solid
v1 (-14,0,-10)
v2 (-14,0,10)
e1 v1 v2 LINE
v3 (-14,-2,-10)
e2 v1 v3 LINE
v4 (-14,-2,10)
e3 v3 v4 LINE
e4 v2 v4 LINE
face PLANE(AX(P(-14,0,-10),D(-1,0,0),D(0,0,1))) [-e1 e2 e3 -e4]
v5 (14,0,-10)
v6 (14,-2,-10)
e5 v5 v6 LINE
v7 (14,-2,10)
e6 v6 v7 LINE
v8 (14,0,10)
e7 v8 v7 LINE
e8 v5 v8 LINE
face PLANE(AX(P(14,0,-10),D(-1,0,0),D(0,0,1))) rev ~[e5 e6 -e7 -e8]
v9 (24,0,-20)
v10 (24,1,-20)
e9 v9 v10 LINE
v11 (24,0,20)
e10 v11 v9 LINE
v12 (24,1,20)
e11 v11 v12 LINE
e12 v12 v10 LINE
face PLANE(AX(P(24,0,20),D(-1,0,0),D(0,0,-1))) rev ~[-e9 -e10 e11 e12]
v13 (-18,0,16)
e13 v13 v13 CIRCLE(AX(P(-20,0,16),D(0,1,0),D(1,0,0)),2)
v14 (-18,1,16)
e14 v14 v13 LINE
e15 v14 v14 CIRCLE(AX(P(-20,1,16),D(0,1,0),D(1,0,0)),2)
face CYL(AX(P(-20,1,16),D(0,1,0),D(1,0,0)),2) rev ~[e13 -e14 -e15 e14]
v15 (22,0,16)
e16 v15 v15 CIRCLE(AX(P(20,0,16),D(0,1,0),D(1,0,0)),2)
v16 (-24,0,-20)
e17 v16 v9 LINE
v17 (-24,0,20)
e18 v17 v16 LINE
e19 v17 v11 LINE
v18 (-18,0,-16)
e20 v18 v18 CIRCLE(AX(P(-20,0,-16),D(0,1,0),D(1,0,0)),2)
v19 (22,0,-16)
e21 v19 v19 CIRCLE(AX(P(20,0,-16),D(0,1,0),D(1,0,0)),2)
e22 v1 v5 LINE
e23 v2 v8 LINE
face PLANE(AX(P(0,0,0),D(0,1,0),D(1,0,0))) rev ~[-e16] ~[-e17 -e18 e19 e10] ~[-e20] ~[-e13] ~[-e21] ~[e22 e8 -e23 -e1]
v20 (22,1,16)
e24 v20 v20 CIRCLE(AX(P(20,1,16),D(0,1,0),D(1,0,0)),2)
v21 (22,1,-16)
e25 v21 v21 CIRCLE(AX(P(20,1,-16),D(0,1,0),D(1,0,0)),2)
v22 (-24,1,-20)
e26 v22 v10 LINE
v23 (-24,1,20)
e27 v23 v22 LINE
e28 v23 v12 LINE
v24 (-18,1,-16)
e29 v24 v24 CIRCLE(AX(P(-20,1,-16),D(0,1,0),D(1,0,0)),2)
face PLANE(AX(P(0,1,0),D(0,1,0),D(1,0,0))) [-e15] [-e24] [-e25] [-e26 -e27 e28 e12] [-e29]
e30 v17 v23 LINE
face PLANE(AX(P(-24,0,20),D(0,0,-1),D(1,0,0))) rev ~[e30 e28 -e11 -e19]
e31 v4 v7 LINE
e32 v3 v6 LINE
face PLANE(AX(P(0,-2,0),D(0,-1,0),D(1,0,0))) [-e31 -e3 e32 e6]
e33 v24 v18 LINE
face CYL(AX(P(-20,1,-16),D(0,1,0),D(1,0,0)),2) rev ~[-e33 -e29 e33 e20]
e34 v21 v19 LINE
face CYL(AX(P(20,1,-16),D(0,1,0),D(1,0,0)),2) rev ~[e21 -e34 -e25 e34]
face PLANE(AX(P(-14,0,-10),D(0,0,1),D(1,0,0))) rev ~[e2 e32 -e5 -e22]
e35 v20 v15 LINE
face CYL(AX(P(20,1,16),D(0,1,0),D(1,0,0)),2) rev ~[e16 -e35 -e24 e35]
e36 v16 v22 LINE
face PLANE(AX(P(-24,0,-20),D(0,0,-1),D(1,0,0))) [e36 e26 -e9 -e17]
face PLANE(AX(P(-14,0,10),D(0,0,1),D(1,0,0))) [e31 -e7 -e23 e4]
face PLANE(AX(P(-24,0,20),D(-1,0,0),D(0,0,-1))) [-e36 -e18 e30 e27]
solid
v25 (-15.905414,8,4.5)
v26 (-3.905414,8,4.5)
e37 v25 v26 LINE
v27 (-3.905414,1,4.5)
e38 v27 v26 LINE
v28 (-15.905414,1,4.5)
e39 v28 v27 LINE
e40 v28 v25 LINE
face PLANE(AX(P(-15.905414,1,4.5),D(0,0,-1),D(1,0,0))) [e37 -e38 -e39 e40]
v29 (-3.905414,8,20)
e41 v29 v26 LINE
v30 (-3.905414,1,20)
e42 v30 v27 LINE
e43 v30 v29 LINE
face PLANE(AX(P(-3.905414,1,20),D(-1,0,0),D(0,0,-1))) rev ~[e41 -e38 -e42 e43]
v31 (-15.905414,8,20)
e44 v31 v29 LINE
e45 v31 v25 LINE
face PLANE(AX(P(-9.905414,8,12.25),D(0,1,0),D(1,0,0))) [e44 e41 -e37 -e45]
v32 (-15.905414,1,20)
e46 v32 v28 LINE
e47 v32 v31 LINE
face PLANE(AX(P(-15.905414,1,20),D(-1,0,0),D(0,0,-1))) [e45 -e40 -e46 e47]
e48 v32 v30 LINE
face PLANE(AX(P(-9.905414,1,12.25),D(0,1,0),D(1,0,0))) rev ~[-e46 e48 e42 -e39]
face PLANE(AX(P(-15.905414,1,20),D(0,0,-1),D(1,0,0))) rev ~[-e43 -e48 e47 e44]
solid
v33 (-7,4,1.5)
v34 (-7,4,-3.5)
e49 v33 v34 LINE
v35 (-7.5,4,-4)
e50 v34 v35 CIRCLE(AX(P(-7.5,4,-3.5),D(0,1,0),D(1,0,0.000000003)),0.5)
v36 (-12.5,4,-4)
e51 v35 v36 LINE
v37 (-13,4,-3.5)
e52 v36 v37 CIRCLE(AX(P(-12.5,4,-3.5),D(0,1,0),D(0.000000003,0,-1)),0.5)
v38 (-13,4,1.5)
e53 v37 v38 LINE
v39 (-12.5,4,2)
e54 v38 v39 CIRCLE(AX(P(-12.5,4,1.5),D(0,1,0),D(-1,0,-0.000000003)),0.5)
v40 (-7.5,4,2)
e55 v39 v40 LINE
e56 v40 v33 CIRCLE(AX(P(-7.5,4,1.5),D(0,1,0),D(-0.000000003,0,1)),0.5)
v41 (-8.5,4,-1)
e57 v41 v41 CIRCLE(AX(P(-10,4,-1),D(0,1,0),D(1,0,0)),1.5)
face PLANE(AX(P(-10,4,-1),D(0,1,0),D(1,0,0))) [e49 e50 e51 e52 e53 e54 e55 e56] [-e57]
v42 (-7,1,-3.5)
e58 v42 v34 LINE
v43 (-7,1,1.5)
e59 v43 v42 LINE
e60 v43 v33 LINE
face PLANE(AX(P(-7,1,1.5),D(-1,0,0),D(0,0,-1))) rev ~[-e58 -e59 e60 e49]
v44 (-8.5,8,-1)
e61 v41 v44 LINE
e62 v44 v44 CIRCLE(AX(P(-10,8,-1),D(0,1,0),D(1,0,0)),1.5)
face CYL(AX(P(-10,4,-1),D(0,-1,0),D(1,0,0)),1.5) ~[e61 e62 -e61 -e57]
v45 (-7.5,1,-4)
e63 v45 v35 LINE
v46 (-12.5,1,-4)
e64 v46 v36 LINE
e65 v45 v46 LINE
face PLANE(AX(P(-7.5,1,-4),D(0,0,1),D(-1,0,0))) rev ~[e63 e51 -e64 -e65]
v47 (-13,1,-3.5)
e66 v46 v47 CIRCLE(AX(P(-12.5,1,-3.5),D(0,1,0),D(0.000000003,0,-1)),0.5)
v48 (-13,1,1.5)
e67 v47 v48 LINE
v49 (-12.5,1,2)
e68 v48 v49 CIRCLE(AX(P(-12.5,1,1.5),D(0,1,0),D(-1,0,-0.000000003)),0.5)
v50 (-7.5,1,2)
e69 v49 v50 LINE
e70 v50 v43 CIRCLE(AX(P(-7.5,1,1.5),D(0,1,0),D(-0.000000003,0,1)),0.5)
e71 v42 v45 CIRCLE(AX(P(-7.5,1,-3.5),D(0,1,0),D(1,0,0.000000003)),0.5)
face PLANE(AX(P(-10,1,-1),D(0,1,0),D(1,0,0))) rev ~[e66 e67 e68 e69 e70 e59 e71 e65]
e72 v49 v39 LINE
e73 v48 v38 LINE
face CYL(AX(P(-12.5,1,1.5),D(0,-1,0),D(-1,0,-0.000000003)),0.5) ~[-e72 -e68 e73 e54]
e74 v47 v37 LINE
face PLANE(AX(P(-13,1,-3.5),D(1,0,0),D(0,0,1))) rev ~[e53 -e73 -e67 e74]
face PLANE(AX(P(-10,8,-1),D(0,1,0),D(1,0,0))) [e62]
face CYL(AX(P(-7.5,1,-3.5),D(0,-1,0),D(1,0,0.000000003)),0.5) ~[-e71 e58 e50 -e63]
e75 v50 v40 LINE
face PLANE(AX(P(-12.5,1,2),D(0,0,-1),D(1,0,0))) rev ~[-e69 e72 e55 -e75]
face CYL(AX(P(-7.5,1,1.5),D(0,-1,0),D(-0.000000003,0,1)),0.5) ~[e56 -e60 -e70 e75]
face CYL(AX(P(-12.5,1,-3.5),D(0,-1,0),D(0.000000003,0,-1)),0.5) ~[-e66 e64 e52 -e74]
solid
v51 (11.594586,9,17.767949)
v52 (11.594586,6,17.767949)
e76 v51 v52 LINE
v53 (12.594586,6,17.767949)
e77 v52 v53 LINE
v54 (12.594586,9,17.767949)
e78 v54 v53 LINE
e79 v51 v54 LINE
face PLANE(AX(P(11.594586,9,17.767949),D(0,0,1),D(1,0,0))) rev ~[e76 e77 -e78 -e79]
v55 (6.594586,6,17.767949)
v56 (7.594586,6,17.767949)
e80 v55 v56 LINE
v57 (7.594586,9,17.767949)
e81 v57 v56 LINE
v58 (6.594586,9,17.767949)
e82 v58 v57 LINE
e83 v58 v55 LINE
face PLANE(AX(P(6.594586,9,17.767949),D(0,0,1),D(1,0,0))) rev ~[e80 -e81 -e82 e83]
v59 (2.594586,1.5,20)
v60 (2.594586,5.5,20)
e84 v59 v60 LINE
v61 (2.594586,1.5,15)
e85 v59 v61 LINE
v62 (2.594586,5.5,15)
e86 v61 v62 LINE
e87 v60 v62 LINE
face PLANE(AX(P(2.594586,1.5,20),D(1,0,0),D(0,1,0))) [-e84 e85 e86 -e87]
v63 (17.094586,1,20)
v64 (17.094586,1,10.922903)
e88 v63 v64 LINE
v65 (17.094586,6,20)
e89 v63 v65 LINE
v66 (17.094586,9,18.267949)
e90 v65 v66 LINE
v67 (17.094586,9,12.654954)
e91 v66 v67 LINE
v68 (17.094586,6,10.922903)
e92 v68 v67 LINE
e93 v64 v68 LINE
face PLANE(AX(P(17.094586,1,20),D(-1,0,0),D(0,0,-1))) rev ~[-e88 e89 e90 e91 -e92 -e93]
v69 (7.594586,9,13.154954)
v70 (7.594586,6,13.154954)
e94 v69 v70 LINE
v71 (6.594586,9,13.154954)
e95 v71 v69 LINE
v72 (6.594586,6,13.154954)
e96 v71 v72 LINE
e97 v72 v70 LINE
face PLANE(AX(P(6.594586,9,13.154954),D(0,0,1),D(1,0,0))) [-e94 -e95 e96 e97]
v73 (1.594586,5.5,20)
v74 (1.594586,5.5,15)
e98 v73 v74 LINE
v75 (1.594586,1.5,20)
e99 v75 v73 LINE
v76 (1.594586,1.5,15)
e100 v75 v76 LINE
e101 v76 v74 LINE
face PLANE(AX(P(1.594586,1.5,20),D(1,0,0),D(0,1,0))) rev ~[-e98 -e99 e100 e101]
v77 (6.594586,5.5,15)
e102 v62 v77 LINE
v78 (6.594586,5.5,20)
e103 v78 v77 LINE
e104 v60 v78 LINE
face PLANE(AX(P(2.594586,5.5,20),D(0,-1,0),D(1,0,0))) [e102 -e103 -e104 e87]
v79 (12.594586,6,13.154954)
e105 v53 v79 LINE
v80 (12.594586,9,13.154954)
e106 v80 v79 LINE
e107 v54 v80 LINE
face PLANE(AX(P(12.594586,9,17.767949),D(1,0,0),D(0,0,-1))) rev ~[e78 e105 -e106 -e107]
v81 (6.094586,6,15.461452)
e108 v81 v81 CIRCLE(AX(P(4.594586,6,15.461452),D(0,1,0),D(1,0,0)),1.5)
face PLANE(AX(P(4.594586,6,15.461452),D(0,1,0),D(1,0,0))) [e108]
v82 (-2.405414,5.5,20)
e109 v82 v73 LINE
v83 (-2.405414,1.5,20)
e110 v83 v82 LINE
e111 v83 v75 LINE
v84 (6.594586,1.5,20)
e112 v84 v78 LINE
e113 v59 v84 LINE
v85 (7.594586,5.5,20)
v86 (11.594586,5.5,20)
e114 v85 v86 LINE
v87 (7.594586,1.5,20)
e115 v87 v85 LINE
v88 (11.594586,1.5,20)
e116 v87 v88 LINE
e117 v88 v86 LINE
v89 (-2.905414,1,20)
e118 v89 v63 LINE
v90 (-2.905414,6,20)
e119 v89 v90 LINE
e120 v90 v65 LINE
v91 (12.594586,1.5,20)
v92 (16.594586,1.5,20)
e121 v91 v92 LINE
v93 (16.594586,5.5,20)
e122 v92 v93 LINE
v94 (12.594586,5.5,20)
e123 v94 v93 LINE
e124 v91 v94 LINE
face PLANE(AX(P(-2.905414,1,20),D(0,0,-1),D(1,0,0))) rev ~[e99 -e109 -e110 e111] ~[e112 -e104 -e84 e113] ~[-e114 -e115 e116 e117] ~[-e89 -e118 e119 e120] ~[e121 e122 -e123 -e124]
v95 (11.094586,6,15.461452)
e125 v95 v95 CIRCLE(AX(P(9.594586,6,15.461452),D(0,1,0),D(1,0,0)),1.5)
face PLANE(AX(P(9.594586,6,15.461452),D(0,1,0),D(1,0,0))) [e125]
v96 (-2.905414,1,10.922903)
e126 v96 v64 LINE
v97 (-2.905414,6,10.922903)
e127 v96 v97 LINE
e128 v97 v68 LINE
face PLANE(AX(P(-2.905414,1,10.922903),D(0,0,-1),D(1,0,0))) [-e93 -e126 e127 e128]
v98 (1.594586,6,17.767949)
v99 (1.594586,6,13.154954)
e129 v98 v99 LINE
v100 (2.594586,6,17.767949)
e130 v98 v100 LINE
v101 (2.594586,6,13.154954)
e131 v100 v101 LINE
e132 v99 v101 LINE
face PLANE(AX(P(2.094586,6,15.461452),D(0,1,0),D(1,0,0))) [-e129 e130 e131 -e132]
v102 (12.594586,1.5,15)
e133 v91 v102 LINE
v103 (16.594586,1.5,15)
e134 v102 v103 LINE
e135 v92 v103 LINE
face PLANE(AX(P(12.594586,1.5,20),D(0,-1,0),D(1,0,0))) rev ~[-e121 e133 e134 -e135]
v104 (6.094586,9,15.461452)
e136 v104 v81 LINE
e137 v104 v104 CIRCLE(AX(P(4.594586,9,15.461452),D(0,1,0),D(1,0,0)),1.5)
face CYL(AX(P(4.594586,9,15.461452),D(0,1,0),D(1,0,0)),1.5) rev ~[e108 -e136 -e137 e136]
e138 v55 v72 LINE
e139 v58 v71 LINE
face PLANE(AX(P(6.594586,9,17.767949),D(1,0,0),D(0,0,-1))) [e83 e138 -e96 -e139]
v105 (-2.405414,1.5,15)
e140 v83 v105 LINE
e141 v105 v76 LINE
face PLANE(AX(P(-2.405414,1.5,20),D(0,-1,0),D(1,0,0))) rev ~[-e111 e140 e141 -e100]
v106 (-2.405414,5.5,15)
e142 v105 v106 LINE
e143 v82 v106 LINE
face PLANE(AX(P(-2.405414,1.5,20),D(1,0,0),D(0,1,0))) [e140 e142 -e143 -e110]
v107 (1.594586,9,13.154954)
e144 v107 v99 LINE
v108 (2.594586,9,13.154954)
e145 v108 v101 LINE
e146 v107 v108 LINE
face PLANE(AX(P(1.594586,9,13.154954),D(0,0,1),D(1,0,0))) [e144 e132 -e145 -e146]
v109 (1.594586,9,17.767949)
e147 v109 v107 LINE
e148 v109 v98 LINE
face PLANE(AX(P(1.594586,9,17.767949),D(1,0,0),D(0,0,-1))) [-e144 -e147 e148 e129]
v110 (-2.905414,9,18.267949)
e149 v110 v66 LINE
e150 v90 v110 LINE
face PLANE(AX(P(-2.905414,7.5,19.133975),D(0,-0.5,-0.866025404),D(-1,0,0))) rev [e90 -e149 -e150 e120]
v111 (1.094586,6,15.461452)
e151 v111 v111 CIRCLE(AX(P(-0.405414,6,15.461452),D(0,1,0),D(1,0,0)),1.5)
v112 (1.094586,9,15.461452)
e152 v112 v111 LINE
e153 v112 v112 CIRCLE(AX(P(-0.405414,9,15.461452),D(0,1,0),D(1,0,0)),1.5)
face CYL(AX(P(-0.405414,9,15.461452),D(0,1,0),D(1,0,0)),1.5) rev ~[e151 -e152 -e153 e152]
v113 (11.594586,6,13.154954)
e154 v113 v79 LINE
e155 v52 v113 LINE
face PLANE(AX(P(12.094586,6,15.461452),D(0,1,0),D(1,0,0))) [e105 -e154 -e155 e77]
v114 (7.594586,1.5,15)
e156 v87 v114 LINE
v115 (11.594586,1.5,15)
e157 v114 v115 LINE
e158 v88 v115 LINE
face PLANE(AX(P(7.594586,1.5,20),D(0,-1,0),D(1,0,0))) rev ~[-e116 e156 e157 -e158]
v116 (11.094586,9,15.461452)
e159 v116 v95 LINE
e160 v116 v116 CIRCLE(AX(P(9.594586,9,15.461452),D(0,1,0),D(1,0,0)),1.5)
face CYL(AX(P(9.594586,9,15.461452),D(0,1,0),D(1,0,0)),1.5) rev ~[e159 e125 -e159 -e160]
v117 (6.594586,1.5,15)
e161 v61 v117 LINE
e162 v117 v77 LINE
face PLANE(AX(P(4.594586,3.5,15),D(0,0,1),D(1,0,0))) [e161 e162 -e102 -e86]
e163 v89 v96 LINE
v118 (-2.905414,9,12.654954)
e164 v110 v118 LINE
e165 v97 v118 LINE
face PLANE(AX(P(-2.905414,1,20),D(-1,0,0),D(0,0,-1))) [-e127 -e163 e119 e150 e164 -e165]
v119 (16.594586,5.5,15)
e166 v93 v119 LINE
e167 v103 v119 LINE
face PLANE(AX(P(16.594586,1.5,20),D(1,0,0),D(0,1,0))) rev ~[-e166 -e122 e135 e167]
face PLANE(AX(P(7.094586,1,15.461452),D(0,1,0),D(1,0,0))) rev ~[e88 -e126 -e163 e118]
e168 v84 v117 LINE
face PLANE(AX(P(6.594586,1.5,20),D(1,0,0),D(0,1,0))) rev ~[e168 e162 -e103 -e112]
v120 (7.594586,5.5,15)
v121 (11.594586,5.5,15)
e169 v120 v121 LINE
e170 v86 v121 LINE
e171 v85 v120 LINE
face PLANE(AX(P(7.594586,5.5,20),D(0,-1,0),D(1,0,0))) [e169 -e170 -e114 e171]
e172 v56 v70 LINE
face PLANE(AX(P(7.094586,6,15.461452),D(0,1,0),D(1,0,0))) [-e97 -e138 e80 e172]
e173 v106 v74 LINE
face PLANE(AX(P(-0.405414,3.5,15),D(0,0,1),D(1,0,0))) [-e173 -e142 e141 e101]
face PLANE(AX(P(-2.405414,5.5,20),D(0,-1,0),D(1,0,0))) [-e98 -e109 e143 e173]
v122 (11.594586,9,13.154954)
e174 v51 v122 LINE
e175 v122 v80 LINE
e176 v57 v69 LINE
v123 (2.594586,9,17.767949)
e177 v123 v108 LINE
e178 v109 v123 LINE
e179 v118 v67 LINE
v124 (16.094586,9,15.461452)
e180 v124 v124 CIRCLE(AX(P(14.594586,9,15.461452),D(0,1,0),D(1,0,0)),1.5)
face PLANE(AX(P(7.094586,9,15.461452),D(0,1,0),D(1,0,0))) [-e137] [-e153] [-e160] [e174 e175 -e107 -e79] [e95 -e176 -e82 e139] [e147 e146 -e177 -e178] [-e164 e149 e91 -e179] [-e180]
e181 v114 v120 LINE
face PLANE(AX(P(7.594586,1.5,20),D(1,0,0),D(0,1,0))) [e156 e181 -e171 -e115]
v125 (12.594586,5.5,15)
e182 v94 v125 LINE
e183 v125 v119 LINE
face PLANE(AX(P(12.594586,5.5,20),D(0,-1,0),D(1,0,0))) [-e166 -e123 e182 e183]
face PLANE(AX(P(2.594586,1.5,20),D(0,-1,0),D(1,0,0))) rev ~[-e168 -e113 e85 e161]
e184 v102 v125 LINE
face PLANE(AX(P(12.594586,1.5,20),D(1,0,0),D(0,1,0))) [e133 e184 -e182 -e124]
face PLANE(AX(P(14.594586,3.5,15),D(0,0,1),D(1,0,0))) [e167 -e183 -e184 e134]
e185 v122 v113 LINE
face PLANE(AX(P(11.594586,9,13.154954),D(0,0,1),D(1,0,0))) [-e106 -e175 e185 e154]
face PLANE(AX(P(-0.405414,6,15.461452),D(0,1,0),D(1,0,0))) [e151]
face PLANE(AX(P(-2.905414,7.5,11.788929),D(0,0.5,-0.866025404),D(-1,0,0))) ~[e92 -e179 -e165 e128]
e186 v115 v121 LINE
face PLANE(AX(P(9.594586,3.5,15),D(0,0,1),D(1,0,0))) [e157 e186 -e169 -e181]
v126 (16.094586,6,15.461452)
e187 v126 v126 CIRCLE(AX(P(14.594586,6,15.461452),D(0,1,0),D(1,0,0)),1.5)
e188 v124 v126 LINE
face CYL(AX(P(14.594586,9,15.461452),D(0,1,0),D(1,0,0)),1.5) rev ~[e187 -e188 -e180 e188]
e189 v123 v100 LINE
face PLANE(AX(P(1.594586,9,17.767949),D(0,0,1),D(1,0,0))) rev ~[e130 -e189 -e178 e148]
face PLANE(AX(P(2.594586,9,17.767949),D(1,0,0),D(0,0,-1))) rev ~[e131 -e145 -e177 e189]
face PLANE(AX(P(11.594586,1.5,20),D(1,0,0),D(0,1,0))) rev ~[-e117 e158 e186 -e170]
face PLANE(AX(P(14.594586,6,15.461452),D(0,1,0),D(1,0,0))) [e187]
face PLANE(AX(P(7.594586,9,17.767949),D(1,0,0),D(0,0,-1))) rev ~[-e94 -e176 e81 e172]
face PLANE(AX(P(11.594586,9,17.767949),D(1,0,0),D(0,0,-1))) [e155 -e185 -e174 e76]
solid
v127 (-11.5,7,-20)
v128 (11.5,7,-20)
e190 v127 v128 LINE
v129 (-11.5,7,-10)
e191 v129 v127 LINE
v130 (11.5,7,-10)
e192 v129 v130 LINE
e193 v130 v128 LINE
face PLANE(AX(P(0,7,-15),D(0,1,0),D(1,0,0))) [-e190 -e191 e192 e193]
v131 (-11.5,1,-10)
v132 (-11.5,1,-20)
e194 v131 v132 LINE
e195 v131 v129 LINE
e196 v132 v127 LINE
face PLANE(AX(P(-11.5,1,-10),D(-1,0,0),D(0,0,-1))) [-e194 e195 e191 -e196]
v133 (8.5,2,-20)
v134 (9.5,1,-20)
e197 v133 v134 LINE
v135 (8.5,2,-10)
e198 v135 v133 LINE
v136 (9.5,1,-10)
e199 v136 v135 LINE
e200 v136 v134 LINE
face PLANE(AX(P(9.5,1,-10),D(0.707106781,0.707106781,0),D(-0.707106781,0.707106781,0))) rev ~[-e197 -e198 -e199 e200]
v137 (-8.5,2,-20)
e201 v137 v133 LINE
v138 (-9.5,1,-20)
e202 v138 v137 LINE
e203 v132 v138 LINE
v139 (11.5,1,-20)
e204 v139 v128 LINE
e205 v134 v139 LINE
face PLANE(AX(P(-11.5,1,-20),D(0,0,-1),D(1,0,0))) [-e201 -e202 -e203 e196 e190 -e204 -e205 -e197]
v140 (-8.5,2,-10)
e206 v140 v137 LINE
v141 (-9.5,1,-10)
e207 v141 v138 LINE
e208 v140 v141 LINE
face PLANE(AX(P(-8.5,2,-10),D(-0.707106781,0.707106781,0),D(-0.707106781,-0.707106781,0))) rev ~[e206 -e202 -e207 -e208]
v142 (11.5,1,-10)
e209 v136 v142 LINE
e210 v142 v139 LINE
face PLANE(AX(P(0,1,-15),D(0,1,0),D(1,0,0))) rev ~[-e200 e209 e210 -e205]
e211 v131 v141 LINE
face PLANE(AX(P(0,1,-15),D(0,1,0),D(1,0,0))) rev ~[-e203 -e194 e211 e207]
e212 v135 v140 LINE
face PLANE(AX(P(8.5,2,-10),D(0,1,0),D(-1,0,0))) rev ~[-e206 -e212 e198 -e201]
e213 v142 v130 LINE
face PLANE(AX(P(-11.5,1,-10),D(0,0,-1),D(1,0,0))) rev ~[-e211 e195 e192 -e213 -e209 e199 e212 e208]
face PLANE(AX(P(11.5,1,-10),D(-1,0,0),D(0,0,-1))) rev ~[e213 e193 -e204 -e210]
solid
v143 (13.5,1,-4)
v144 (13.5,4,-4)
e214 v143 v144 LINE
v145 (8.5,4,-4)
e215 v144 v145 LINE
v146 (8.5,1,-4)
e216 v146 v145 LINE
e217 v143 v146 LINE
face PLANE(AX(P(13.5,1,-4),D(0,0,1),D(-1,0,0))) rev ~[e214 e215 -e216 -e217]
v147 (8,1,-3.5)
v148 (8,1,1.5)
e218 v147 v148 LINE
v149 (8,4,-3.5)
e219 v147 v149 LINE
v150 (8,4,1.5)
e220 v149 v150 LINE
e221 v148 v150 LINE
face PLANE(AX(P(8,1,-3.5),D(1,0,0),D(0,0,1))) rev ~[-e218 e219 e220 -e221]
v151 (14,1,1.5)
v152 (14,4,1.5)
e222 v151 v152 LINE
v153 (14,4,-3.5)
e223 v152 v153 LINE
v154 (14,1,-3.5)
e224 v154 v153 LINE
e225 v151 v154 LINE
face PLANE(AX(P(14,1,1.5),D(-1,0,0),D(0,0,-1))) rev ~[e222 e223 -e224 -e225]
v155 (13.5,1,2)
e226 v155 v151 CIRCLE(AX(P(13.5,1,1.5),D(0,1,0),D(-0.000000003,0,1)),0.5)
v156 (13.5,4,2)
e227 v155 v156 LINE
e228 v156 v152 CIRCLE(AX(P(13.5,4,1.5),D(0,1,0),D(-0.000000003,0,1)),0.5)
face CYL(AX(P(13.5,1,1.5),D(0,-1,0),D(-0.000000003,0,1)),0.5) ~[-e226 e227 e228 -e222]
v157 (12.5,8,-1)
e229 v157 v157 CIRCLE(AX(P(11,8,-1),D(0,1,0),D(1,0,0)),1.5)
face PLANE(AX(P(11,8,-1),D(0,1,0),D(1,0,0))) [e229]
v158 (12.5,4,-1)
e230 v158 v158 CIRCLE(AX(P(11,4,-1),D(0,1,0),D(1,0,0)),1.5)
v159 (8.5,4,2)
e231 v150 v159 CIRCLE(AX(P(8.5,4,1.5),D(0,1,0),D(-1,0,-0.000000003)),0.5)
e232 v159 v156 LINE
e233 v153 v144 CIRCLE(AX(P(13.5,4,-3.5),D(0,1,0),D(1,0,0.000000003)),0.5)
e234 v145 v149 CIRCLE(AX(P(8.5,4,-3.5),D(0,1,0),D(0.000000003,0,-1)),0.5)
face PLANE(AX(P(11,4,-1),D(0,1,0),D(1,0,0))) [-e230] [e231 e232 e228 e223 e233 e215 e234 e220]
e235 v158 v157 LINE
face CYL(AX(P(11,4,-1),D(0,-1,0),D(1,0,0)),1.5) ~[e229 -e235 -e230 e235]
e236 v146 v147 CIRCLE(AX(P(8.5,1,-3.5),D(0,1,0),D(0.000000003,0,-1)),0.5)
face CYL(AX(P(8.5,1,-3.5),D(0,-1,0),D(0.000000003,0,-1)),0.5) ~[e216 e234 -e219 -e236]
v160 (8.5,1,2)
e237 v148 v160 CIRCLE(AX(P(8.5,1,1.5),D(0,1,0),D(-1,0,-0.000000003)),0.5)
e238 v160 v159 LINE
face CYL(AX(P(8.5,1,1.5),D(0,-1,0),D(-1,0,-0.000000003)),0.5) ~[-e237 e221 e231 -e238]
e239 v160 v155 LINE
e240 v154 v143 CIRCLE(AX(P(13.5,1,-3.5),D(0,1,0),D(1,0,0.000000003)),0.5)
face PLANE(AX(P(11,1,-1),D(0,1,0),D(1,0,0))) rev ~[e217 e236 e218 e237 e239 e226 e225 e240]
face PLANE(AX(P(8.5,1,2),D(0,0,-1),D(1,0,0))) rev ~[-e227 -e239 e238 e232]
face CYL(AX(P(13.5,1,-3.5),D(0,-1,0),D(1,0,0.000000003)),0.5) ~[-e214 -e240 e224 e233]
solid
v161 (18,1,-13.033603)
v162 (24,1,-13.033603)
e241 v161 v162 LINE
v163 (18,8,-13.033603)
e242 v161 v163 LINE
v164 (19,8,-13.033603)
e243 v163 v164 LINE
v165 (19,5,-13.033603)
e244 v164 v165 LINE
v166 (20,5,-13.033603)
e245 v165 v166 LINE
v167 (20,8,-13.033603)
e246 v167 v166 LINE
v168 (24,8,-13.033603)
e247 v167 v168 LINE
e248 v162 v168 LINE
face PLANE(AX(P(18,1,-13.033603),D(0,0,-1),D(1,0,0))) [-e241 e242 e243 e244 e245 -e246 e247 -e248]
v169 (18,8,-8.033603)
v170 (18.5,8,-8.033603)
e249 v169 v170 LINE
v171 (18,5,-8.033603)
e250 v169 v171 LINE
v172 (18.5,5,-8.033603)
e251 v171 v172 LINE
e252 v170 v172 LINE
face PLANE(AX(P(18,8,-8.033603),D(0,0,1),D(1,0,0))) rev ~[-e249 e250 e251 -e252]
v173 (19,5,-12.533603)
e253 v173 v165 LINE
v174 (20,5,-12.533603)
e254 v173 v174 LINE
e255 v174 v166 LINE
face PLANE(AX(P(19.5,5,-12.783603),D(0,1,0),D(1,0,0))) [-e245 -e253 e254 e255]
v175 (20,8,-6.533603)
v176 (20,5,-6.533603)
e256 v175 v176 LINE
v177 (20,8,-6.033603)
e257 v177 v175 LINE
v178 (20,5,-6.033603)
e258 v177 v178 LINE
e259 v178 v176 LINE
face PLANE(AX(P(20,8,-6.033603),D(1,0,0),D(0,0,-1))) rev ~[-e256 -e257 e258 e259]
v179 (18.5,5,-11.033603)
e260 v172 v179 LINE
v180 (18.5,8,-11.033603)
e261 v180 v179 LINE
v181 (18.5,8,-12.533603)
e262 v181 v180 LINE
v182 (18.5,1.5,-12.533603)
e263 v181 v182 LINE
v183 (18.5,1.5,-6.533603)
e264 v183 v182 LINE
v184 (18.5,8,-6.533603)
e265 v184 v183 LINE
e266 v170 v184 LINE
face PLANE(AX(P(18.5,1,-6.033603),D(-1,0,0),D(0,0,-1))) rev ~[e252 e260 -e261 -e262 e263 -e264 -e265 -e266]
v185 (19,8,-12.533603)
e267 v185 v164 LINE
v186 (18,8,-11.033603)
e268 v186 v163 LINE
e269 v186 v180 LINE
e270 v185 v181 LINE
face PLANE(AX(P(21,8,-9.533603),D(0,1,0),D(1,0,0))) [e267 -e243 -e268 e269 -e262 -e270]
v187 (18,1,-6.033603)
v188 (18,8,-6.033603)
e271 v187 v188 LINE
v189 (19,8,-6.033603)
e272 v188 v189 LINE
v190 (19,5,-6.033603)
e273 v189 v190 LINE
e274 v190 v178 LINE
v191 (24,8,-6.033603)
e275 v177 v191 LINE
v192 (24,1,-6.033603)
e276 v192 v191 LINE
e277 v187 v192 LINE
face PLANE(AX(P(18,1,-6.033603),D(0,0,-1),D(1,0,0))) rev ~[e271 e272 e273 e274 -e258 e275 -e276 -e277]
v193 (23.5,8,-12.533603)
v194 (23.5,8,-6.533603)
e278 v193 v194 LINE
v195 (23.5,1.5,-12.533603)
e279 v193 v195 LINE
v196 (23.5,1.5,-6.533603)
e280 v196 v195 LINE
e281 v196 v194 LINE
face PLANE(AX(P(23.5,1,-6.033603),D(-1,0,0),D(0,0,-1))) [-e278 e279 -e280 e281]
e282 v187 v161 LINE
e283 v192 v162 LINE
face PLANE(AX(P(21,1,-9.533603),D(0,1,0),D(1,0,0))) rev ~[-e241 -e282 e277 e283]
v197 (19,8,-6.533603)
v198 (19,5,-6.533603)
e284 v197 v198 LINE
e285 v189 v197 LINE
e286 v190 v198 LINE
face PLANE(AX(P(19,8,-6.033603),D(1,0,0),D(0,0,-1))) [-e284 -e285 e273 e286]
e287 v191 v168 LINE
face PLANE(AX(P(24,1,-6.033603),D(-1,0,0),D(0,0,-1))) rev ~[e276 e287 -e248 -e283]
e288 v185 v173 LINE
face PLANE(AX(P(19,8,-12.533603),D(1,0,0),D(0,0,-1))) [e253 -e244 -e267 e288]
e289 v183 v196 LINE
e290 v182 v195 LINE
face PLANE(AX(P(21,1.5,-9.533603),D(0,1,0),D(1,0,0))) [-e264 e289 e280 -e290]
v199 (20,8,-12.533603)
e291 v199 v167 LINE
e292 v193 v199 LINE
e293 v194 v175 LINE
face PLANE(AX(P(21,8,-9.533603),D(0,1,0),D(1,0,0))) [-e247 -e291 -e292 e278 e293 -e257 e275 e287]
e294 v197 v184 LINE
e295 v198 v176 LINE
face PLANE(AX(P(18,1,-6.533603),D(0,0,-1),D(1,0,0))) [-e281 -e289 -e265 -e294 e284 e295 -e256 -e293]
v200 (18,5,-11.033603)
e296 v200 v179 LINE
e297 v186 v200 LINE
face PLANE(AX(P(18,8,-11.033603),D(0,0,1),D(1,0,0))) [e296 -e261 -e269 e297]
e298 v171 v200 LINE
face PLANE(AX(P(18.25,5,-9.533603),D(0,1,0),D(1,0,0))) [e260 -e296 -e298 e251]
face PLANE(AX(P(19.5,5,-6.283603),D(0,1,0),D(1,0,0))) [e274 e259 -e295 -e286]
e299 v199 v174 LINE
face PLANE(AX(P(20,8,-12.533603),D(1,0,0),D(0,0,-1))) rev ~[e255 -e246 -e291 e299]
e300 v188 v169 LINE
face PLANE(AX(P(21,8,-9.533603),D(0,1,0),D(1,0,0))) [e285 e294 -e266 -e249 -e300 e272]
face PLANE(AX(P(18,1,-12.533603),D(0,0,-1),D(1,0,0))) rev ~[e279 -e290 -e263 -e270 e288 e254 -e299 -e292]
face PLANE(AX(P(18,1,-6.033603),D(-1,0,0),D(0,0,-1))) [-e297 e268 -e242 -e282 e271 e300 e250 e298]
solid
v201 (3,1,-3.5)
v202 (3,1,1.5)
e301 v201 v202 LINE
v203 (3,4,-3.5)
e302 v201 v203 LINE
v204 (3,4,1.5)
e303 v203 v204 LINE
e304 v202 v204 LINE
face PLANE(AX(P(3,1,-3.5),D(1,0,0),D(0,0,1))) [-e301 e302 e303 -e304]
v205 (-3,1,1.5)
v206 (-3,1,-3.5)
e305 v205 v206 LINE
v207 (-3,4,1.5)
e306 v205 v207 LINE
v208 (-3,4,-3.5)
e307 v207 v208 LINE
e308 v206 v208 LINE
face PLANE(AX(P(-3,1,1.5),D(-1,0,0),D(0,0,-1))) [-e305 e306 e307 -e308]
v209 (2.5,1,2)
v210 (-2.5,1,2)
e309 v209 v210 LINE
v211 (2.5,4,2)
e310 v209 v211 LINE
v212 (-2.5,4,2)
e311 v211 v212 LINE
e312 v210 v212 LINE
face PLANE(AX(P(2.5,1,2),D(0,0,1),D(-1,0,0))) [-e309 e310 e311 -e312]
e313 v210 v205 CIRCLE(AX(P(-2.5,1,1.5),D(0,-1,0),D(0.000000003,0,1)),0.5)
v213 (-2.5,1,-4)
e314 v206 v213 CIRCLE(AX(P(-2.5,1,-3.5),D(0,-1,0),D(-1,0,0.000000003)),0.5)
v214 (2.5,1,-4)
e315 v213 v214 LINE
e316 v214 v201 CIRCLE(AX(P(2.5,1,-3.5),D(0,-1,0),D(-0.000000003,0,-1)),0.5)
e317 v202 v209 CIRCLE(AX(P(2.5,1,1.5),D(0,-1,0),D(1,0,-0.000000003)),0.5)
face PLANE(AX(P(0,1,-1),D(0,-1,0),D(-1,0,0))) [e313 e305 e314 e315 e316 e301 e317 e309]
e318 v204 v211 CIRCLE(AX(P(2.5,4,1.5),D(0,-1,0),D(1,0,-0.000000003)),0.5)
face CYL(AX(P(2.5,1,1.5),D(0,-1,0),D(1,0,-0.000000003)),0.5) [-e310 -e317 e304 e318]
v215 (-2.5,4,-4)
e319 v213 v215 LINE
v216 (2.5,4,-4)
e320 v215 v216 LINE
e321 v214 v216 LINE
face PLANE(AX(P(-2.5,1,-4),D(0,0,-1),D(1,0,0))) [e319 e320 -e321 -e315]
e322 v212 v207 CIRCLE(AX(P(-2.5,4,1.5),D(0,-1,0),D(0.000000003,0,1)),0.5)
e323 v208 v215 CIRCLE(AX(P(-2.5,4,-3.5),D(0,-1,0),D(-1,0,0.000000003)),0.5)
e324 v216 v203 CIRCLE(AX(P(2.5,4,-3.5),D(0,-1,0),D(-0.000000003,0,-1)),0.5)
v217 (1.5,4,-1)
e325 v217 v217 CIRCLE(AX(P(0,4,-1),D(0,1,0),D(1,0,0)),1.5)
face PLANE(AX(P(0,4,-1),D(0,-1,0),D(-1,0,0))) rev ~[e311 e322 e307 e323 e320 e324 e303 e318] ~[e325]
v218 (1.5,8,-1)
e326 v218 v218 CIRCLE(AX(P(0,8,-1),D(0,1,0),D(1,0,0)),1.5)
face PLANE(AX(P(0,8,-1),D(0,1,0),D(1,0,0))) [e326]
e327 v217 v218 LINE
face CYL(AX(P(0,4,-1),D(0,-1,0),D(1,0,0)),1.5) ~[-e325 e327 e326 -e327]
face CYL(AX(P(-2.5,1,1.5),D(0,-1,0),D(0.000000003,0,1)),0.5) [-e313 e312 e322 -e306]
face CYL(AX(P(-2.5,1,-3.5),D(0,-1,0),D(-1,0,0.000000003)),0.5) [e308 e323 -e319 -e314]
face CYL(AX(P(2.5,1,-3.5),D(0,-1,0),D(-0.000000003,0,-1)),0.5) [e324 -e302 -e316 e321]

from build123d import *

# Parameters (mm, degrees)
SKETCH1_W             = 48
SKETCH1_H             = 40
BOSS_EXTRUDE1_DEPTH   = 1
SKETCH2_W             = 28
SKETCH2_H             = 20
BOSS_EXTRUDE2_DEPTH   = 2
SKETCH3_R             = 2
CUT_EXTRUDE1_DEPTH    = 4
SKETCH4_W             = 23
SKETCH4_H             = 10
BOSS_EXTRUDE3_DEPTH   = 6
SKETCH5_W             = 6
SKETCH5_H             = 7
BOSS_EXTRUDE4_DEPTH   = 7
SHELL1_T              = -0.5
SKETCH6_W             = 1
SKETCH6_H             = 0.5
SKETCH6_W_2           = 0.5
SKETCH6_H_2           = 3
CUT_EXTRUDE2_DEPTH    = 3
CUT_EXTRUDE3_DEPTH    = 11
SKETCH8_W             = 12
SKETCH8_H             = 15.5
BOSS_EXTRUDE5_DEPTH   = 7
SKETCH9_W             = 20
SKETCH9_H             = 9.077096831
BOSS_EXTRUDE6_DEPTH   = 8
CHAMFER1_SIZE         = 3
CHAMFER1_SIZE2        = 1.732050808
CHAMFER1_PART_2_SIZE  = 3
CHAMFER1_PART_2_SIZE2 = 1.732050808
SKETCH10_W            = 4
SKETCH10_H            = 4
CUT_EXTRUDE4_DEPTH    = 5
SKETCH11_R            = 1.5
SKETCH11_W            = 1
SKETCH11_H            = 4.612995216
CUT_EXTRUDE5_DEPTH    = 3
BOSS_EXTRUDE7_DEPTH   = 3
BOSS_EXTRUDE7_2_DEPTH = 3
BOSS_EXTRUDE7_3_DEPTH = 3
SKETCH13_R            = 1.5
BOSS_EXTRUDE8_DEPTH   = 4


with BuildPart() as part:
    # Sketch1 → Boss-Extrude1 (new body)
    with BuildSketch(Plane(origin=(0, 0, 0), x_dir=(1, 0, 0), z_dir=(0, 1, 0))):
        Rectangle(SKETCH1_W, SKETCH1_H)
    extrude(amount=BOSS_EXTRUDE1_DEPTH)

    # Sketch2 → Boss-Extrude2 (add)
    with BuildSketch(Plane.XZ):
        Rectangle(SKETCH2_W, SKETCH2_H)
    extrude(amount=BOSS_EXTRUDE2_DEPTH)

    # Sketch3 → Cut-Extrude1 (cut, through all)
    with BuildSketch(Plane(origin=(0, 1, 0), x_dir=(1, 0, 0), z_dir=(0, 1, 0))):
        with Locations((-20, -16)):
            Circle(SKETCH3_R)
        with Locations((20, -16)):
            Circle(SKETCH3_R)
        with Locations((20, 16)):
            Circle(SKETCH3_R)
        with Locations((-20, 16)):
            Circle(SKETCH3_R)
    extrude(amount=-CUT_EXTRUDE1_DEPTH, mode=Mode.SUBTRACT)


with BuildPart() as body_2:
    # Sketch4 → Boss-Extrude3 (new body)
    with BuildSketch(Plane(origin=(0, 1, 0), x_dir=(1, 0, 0), z_dir=(0, 1, 0))):
        with Locations((0, 15)):
            Rectangle(SKETCH4_W, SKETCH4_H)
    extrude(amount=BOSS_EXTRUDE3_DEPTH)

    # Sketch7 → Cut-Extrude3 (cut, through all)
    with BuildSketch(Plane.XY.offset(-10)):
        Polygon((-9.5, 1), (9.5, 1), (8.5, 2), (-8.5, 2), align=None)
    extrude(amount=-CUT_EXTRUDE3_DEPTH, mode=Mode.SUBTRACT)


with BuildPart() as body_3:
    # Sketch5 → Boss-Extrude4 (new body)
    with BuildSketch(Plane(origin=(0, 1, 0), x_dir=(1, 0, 0), z_dir=(0, 1, 0))):
        with Locations((21, 9.533602838)):
            Rectangle(SKETCH5_W, SKETCH5_H)
    extrude(amount=BOSS_EXTRUDE4_DEPTH)

    # Shell1
    shell1_openings = [body_3.faces().sort_by_distance(p)[0] for p in [
        (21, 8, -9.533602838),
    ]]
    offset(amount=SHELL1_T, openings=shell1_openings, kind=Kind.INTERSECTION)

    # Sketch6 → Cut-Extrude2 (cut)
    with BuildSketch(Plane(origin=(0, 8, 0), x_dir=(1, 0, 0), z_dir=(0, 1, 0))):
        with Locations((19.5, 12.783602838)):
            Rectangle(SKETCH6_W, SKETCH6_H)
        with Locations((18.25, 9.533602838)):
            Rectangle(SKETCH6_W_2, SKETCH6_H_2)
        with Locations((19.5, 6.283602838)):
            Rectangle(SKETCH6_W, SKETCH6_H)
    extrude(amount=-CUT_EXTRUDE2_DEPTH, mode=Mode.SUBTRACT)


with BuildPart() as body_4:
    # Sketch8 → Boss-Extrude5 (new body, through all)
    with BuildSketch(Plane(origin=(0, 1, 0), x_dir=(1, 0, 0), z_dir=(0, 1, 0))):
        with Locations((-9.905413633, -12.25)):
            Rectangle(SKETCH8_W, SKETCH8_H)
    extrude(amount=BOSS_EXTRUDE5_DEPTH)


with BuildPart() as body_5:
    # Sketch9 → Boss-Extrude6 (new body)
    with BuildSketch(Plane(origin=(0, 1, 0), x_dir=(1, 0, 0), z_dir=(0, 1, 0))):
        with Locations((7.094586367, -15.461451585)):
            Rectangle(SKETCH9_W, SKETCH9_H)
    extrude(amount=BOSS_EXTRUDE6_DEPTH)

    # Chamfer1
    chamfer1_edges = [body_5.edges().sort_by_distance(p)[0] for p in [
        (7.094586367, 9, 10.922903169),
    ]]
    chamfer1_side = [body_5.faces().sort_by_distance(p)[0] for p in [
        (7.094586367, 5, 10.922903169),
    ]]
    chamfer(chamfer1_edges, length=CHAMFER1_SIZE, length2=CHAMFER1_SIZE2, reference=chamfer1_side[0])

    # Chamfer1 part 2
    chamfer1_part_2_edges = [body_5.edges().sort_by_distance(p)[0] for p in [
        (7.094586367, 9, 20),
    ]]
    chamfer1_part_2_side = [body_5.faces().sort_by_distance(p)[0] for p in [
        (7.094586367, 5, 20),
    ]]
    chamfer(chamfer1_part_2_edges, length=CHAMFER1_PART_2_SIZE, length2=CHAMFER1_PART_2_SIZE2, reference=chamfer1_part_2_side[0])

    # Sketch10 → Cut-Extrude4 (cut)
    with BuildSketch(Plane.XY.offset(20)):
        with Locations((14.594586367, 3.5)):
            Rectangle(SKETCH10_W, SKETCH10_H)
        with Locations((9.594586367, 3.5)):
            Rectangle(SKETCH10_W, SKETCH10_H)
        with Locations((4.594586367, 3.5)):
            Rectangle(SKETCH10_W, SKETCH10_H)
        with Locations((-0.405413633, 3.5)):
            Rectangle(SKETCH10_W, SKETCH10_H)
    extrude(amount=-CUT_EXTRUDE4_DEPTH, mode=Mode.SUBTRACT)

    # Sketch11 → Cut-Extrude5 (cut)
    with BuildSketch(Plane(origin=(0, 9, 0), x_dir=(1, 0, 0), z_dir=(0, 1, 0))):
        with Locations((14.594586367, -15.461451584)):
            Circle(SKETCH11_R)
        with Locations((9.594586367, -15.461451584)):
            Circle(SKETCH11_R)
        with Locations((4.594586367, -15.461451584)):
            Circle(SKETCH11_R)
        with Locations((-0.405413633, -15.461451584)):
            Circle(SKETCH11_R)
        with Locations((12.094586367, -15.461451584)):
            Rectangle(SKETCH11_W, SKETCH11_H)
        with Locations((7.094586367, -15.461451584)):
            Rectangle(SKETCH11_W, SKETCH11_H)
        with Locations((2.094586367, -15.461451584)):
            Rectangle(SKETCH11_W, SKETCH11_H)
    extrude(amount=-CUT_EXTRUDE5_DEPTH, mode=Mode.SUBTRACT)


with BuildPart() as body_6:
    # Sketch12 → Boss-Extrude7 (new body)
    with BuildSketch(Plane(origin=(0, 1, 0), x_dir=(1, 0, 0), z_dir=(0, 1, 0))):
        with BuildLine():
            Line((-2.5, 4), (2.5, 4))
            ThreePointArc((2.5, 4), (2.853553391, 3.853553391), (3, 3.5))
            Line((3, 3.5), (3, -1.5))
            ThreePointArc((3, -1.5), (2.853553391, -1.853553391), (2.5, -2))
            Line((2.5, -2), (-2.5, -2))
            ThreePointArc((-2.5, -2), (-2.853553391, -1.853553391), (-3, -1.5))
            Line((-3, -1.5), (-3, 3.5))
            ThreePointArc((-3, 3.5), (-2.853553391, 3.853553391), (-2.5, 4))
        make_face()
    extrude(amount=BOSS_EXTRUDE7_DEPTH)



with BuildPart() as body_7:
    # Sketch12 → Boss-Extrude7 2 (new body)
    with BuildSketch(Plane(origin=(0, 1, 0), x_dir=(1, 0, 0), z_dir=(0, 1, 0))):
        with BuildLine():
            Line((-13, 3.5), (-13, -1.5))
            ThreePointArc((-13, -1.5), (-12.853553391, -1.853553391), (-12.5, -2))
            Line((-12.5, -2), (-7.5, -2))
            ThreePointArc((-7.5, -2), (-7.146446609, -1.853553391), (-7, -1.5))
            Line((-7, -1.5), (-7, 3.5))
            ThreePointArc((-7, 3.5), (-7.146446609, 3.853553391), (-7.5, 4))
            Line((-7.5, 4), (-12.5, 4))
            ThreePointArc((-12.5, 4), (-12.853553391, 3.853553391), (-13, 3.5))
        make_face()
    extrude(amount=BOSS_EXTRUDE7_2_DEPTH)


with BuildPart() as body_8:
    # Sketch12 → Boss-Extrude7 3 (new body)
    with BuildSketch(Plane(origin=(0, 1, 0), x_dir=(1, 0, 0), z_dir=(0, 1, 0))):
        with BuildLine():
            Line((8, 3.5), (8, -1.5))
            ThreePointArc((8, -1.5), (8.146446609, -1.853553391), (8.5, -2))
            Line((8.5, -2), (13.5, -2))
            ThreePointArc((13.5, -2), (13.853553391, -1.853553391), (14, -1.5))
            Line((14, -1.5), (14, 3.5))
            ThreePointArc((14, 3.5), (13.853553391, 3.853553391), (13.5, 4))
            Line((13.5, 4), (8.5, 4))
            ThreePointArc((8.5, 4), (8.146446609, 3.853553391), (8, 3.5))
        make_face()
    extrude(amount=BOSS_EXTRUDE7_3_DEPTH)


with BuildPart() as body_6_1:
    add(body_6.part)

    add(body_7.part)  # Boss-Extrude8 merges body 7

    add(body_8.part)  # Boss-Extrude8 merges body 8
    # Sketch13 → Boss-Extrude8 (add)
    with BuildSketch(Plane(origin=(0, 4, 0), x_dir=(1, 0, 0), z_dir=(0, 1, 0))):
        with Locations((0, 1)):
            Circle(SKETCH13_R)
        with Locations((11, 1)):
            Circle(SKETCH13_R)
        with Locations((-10, 1)):
            Circle(SKETCH13_R)
    extrude(amount=BOSS_EXTRUDE8_DEPTH)


solid = Compound([part.part, body_2.part, body_3.part, body_4.part, body_5.part, body_6_1.part])
